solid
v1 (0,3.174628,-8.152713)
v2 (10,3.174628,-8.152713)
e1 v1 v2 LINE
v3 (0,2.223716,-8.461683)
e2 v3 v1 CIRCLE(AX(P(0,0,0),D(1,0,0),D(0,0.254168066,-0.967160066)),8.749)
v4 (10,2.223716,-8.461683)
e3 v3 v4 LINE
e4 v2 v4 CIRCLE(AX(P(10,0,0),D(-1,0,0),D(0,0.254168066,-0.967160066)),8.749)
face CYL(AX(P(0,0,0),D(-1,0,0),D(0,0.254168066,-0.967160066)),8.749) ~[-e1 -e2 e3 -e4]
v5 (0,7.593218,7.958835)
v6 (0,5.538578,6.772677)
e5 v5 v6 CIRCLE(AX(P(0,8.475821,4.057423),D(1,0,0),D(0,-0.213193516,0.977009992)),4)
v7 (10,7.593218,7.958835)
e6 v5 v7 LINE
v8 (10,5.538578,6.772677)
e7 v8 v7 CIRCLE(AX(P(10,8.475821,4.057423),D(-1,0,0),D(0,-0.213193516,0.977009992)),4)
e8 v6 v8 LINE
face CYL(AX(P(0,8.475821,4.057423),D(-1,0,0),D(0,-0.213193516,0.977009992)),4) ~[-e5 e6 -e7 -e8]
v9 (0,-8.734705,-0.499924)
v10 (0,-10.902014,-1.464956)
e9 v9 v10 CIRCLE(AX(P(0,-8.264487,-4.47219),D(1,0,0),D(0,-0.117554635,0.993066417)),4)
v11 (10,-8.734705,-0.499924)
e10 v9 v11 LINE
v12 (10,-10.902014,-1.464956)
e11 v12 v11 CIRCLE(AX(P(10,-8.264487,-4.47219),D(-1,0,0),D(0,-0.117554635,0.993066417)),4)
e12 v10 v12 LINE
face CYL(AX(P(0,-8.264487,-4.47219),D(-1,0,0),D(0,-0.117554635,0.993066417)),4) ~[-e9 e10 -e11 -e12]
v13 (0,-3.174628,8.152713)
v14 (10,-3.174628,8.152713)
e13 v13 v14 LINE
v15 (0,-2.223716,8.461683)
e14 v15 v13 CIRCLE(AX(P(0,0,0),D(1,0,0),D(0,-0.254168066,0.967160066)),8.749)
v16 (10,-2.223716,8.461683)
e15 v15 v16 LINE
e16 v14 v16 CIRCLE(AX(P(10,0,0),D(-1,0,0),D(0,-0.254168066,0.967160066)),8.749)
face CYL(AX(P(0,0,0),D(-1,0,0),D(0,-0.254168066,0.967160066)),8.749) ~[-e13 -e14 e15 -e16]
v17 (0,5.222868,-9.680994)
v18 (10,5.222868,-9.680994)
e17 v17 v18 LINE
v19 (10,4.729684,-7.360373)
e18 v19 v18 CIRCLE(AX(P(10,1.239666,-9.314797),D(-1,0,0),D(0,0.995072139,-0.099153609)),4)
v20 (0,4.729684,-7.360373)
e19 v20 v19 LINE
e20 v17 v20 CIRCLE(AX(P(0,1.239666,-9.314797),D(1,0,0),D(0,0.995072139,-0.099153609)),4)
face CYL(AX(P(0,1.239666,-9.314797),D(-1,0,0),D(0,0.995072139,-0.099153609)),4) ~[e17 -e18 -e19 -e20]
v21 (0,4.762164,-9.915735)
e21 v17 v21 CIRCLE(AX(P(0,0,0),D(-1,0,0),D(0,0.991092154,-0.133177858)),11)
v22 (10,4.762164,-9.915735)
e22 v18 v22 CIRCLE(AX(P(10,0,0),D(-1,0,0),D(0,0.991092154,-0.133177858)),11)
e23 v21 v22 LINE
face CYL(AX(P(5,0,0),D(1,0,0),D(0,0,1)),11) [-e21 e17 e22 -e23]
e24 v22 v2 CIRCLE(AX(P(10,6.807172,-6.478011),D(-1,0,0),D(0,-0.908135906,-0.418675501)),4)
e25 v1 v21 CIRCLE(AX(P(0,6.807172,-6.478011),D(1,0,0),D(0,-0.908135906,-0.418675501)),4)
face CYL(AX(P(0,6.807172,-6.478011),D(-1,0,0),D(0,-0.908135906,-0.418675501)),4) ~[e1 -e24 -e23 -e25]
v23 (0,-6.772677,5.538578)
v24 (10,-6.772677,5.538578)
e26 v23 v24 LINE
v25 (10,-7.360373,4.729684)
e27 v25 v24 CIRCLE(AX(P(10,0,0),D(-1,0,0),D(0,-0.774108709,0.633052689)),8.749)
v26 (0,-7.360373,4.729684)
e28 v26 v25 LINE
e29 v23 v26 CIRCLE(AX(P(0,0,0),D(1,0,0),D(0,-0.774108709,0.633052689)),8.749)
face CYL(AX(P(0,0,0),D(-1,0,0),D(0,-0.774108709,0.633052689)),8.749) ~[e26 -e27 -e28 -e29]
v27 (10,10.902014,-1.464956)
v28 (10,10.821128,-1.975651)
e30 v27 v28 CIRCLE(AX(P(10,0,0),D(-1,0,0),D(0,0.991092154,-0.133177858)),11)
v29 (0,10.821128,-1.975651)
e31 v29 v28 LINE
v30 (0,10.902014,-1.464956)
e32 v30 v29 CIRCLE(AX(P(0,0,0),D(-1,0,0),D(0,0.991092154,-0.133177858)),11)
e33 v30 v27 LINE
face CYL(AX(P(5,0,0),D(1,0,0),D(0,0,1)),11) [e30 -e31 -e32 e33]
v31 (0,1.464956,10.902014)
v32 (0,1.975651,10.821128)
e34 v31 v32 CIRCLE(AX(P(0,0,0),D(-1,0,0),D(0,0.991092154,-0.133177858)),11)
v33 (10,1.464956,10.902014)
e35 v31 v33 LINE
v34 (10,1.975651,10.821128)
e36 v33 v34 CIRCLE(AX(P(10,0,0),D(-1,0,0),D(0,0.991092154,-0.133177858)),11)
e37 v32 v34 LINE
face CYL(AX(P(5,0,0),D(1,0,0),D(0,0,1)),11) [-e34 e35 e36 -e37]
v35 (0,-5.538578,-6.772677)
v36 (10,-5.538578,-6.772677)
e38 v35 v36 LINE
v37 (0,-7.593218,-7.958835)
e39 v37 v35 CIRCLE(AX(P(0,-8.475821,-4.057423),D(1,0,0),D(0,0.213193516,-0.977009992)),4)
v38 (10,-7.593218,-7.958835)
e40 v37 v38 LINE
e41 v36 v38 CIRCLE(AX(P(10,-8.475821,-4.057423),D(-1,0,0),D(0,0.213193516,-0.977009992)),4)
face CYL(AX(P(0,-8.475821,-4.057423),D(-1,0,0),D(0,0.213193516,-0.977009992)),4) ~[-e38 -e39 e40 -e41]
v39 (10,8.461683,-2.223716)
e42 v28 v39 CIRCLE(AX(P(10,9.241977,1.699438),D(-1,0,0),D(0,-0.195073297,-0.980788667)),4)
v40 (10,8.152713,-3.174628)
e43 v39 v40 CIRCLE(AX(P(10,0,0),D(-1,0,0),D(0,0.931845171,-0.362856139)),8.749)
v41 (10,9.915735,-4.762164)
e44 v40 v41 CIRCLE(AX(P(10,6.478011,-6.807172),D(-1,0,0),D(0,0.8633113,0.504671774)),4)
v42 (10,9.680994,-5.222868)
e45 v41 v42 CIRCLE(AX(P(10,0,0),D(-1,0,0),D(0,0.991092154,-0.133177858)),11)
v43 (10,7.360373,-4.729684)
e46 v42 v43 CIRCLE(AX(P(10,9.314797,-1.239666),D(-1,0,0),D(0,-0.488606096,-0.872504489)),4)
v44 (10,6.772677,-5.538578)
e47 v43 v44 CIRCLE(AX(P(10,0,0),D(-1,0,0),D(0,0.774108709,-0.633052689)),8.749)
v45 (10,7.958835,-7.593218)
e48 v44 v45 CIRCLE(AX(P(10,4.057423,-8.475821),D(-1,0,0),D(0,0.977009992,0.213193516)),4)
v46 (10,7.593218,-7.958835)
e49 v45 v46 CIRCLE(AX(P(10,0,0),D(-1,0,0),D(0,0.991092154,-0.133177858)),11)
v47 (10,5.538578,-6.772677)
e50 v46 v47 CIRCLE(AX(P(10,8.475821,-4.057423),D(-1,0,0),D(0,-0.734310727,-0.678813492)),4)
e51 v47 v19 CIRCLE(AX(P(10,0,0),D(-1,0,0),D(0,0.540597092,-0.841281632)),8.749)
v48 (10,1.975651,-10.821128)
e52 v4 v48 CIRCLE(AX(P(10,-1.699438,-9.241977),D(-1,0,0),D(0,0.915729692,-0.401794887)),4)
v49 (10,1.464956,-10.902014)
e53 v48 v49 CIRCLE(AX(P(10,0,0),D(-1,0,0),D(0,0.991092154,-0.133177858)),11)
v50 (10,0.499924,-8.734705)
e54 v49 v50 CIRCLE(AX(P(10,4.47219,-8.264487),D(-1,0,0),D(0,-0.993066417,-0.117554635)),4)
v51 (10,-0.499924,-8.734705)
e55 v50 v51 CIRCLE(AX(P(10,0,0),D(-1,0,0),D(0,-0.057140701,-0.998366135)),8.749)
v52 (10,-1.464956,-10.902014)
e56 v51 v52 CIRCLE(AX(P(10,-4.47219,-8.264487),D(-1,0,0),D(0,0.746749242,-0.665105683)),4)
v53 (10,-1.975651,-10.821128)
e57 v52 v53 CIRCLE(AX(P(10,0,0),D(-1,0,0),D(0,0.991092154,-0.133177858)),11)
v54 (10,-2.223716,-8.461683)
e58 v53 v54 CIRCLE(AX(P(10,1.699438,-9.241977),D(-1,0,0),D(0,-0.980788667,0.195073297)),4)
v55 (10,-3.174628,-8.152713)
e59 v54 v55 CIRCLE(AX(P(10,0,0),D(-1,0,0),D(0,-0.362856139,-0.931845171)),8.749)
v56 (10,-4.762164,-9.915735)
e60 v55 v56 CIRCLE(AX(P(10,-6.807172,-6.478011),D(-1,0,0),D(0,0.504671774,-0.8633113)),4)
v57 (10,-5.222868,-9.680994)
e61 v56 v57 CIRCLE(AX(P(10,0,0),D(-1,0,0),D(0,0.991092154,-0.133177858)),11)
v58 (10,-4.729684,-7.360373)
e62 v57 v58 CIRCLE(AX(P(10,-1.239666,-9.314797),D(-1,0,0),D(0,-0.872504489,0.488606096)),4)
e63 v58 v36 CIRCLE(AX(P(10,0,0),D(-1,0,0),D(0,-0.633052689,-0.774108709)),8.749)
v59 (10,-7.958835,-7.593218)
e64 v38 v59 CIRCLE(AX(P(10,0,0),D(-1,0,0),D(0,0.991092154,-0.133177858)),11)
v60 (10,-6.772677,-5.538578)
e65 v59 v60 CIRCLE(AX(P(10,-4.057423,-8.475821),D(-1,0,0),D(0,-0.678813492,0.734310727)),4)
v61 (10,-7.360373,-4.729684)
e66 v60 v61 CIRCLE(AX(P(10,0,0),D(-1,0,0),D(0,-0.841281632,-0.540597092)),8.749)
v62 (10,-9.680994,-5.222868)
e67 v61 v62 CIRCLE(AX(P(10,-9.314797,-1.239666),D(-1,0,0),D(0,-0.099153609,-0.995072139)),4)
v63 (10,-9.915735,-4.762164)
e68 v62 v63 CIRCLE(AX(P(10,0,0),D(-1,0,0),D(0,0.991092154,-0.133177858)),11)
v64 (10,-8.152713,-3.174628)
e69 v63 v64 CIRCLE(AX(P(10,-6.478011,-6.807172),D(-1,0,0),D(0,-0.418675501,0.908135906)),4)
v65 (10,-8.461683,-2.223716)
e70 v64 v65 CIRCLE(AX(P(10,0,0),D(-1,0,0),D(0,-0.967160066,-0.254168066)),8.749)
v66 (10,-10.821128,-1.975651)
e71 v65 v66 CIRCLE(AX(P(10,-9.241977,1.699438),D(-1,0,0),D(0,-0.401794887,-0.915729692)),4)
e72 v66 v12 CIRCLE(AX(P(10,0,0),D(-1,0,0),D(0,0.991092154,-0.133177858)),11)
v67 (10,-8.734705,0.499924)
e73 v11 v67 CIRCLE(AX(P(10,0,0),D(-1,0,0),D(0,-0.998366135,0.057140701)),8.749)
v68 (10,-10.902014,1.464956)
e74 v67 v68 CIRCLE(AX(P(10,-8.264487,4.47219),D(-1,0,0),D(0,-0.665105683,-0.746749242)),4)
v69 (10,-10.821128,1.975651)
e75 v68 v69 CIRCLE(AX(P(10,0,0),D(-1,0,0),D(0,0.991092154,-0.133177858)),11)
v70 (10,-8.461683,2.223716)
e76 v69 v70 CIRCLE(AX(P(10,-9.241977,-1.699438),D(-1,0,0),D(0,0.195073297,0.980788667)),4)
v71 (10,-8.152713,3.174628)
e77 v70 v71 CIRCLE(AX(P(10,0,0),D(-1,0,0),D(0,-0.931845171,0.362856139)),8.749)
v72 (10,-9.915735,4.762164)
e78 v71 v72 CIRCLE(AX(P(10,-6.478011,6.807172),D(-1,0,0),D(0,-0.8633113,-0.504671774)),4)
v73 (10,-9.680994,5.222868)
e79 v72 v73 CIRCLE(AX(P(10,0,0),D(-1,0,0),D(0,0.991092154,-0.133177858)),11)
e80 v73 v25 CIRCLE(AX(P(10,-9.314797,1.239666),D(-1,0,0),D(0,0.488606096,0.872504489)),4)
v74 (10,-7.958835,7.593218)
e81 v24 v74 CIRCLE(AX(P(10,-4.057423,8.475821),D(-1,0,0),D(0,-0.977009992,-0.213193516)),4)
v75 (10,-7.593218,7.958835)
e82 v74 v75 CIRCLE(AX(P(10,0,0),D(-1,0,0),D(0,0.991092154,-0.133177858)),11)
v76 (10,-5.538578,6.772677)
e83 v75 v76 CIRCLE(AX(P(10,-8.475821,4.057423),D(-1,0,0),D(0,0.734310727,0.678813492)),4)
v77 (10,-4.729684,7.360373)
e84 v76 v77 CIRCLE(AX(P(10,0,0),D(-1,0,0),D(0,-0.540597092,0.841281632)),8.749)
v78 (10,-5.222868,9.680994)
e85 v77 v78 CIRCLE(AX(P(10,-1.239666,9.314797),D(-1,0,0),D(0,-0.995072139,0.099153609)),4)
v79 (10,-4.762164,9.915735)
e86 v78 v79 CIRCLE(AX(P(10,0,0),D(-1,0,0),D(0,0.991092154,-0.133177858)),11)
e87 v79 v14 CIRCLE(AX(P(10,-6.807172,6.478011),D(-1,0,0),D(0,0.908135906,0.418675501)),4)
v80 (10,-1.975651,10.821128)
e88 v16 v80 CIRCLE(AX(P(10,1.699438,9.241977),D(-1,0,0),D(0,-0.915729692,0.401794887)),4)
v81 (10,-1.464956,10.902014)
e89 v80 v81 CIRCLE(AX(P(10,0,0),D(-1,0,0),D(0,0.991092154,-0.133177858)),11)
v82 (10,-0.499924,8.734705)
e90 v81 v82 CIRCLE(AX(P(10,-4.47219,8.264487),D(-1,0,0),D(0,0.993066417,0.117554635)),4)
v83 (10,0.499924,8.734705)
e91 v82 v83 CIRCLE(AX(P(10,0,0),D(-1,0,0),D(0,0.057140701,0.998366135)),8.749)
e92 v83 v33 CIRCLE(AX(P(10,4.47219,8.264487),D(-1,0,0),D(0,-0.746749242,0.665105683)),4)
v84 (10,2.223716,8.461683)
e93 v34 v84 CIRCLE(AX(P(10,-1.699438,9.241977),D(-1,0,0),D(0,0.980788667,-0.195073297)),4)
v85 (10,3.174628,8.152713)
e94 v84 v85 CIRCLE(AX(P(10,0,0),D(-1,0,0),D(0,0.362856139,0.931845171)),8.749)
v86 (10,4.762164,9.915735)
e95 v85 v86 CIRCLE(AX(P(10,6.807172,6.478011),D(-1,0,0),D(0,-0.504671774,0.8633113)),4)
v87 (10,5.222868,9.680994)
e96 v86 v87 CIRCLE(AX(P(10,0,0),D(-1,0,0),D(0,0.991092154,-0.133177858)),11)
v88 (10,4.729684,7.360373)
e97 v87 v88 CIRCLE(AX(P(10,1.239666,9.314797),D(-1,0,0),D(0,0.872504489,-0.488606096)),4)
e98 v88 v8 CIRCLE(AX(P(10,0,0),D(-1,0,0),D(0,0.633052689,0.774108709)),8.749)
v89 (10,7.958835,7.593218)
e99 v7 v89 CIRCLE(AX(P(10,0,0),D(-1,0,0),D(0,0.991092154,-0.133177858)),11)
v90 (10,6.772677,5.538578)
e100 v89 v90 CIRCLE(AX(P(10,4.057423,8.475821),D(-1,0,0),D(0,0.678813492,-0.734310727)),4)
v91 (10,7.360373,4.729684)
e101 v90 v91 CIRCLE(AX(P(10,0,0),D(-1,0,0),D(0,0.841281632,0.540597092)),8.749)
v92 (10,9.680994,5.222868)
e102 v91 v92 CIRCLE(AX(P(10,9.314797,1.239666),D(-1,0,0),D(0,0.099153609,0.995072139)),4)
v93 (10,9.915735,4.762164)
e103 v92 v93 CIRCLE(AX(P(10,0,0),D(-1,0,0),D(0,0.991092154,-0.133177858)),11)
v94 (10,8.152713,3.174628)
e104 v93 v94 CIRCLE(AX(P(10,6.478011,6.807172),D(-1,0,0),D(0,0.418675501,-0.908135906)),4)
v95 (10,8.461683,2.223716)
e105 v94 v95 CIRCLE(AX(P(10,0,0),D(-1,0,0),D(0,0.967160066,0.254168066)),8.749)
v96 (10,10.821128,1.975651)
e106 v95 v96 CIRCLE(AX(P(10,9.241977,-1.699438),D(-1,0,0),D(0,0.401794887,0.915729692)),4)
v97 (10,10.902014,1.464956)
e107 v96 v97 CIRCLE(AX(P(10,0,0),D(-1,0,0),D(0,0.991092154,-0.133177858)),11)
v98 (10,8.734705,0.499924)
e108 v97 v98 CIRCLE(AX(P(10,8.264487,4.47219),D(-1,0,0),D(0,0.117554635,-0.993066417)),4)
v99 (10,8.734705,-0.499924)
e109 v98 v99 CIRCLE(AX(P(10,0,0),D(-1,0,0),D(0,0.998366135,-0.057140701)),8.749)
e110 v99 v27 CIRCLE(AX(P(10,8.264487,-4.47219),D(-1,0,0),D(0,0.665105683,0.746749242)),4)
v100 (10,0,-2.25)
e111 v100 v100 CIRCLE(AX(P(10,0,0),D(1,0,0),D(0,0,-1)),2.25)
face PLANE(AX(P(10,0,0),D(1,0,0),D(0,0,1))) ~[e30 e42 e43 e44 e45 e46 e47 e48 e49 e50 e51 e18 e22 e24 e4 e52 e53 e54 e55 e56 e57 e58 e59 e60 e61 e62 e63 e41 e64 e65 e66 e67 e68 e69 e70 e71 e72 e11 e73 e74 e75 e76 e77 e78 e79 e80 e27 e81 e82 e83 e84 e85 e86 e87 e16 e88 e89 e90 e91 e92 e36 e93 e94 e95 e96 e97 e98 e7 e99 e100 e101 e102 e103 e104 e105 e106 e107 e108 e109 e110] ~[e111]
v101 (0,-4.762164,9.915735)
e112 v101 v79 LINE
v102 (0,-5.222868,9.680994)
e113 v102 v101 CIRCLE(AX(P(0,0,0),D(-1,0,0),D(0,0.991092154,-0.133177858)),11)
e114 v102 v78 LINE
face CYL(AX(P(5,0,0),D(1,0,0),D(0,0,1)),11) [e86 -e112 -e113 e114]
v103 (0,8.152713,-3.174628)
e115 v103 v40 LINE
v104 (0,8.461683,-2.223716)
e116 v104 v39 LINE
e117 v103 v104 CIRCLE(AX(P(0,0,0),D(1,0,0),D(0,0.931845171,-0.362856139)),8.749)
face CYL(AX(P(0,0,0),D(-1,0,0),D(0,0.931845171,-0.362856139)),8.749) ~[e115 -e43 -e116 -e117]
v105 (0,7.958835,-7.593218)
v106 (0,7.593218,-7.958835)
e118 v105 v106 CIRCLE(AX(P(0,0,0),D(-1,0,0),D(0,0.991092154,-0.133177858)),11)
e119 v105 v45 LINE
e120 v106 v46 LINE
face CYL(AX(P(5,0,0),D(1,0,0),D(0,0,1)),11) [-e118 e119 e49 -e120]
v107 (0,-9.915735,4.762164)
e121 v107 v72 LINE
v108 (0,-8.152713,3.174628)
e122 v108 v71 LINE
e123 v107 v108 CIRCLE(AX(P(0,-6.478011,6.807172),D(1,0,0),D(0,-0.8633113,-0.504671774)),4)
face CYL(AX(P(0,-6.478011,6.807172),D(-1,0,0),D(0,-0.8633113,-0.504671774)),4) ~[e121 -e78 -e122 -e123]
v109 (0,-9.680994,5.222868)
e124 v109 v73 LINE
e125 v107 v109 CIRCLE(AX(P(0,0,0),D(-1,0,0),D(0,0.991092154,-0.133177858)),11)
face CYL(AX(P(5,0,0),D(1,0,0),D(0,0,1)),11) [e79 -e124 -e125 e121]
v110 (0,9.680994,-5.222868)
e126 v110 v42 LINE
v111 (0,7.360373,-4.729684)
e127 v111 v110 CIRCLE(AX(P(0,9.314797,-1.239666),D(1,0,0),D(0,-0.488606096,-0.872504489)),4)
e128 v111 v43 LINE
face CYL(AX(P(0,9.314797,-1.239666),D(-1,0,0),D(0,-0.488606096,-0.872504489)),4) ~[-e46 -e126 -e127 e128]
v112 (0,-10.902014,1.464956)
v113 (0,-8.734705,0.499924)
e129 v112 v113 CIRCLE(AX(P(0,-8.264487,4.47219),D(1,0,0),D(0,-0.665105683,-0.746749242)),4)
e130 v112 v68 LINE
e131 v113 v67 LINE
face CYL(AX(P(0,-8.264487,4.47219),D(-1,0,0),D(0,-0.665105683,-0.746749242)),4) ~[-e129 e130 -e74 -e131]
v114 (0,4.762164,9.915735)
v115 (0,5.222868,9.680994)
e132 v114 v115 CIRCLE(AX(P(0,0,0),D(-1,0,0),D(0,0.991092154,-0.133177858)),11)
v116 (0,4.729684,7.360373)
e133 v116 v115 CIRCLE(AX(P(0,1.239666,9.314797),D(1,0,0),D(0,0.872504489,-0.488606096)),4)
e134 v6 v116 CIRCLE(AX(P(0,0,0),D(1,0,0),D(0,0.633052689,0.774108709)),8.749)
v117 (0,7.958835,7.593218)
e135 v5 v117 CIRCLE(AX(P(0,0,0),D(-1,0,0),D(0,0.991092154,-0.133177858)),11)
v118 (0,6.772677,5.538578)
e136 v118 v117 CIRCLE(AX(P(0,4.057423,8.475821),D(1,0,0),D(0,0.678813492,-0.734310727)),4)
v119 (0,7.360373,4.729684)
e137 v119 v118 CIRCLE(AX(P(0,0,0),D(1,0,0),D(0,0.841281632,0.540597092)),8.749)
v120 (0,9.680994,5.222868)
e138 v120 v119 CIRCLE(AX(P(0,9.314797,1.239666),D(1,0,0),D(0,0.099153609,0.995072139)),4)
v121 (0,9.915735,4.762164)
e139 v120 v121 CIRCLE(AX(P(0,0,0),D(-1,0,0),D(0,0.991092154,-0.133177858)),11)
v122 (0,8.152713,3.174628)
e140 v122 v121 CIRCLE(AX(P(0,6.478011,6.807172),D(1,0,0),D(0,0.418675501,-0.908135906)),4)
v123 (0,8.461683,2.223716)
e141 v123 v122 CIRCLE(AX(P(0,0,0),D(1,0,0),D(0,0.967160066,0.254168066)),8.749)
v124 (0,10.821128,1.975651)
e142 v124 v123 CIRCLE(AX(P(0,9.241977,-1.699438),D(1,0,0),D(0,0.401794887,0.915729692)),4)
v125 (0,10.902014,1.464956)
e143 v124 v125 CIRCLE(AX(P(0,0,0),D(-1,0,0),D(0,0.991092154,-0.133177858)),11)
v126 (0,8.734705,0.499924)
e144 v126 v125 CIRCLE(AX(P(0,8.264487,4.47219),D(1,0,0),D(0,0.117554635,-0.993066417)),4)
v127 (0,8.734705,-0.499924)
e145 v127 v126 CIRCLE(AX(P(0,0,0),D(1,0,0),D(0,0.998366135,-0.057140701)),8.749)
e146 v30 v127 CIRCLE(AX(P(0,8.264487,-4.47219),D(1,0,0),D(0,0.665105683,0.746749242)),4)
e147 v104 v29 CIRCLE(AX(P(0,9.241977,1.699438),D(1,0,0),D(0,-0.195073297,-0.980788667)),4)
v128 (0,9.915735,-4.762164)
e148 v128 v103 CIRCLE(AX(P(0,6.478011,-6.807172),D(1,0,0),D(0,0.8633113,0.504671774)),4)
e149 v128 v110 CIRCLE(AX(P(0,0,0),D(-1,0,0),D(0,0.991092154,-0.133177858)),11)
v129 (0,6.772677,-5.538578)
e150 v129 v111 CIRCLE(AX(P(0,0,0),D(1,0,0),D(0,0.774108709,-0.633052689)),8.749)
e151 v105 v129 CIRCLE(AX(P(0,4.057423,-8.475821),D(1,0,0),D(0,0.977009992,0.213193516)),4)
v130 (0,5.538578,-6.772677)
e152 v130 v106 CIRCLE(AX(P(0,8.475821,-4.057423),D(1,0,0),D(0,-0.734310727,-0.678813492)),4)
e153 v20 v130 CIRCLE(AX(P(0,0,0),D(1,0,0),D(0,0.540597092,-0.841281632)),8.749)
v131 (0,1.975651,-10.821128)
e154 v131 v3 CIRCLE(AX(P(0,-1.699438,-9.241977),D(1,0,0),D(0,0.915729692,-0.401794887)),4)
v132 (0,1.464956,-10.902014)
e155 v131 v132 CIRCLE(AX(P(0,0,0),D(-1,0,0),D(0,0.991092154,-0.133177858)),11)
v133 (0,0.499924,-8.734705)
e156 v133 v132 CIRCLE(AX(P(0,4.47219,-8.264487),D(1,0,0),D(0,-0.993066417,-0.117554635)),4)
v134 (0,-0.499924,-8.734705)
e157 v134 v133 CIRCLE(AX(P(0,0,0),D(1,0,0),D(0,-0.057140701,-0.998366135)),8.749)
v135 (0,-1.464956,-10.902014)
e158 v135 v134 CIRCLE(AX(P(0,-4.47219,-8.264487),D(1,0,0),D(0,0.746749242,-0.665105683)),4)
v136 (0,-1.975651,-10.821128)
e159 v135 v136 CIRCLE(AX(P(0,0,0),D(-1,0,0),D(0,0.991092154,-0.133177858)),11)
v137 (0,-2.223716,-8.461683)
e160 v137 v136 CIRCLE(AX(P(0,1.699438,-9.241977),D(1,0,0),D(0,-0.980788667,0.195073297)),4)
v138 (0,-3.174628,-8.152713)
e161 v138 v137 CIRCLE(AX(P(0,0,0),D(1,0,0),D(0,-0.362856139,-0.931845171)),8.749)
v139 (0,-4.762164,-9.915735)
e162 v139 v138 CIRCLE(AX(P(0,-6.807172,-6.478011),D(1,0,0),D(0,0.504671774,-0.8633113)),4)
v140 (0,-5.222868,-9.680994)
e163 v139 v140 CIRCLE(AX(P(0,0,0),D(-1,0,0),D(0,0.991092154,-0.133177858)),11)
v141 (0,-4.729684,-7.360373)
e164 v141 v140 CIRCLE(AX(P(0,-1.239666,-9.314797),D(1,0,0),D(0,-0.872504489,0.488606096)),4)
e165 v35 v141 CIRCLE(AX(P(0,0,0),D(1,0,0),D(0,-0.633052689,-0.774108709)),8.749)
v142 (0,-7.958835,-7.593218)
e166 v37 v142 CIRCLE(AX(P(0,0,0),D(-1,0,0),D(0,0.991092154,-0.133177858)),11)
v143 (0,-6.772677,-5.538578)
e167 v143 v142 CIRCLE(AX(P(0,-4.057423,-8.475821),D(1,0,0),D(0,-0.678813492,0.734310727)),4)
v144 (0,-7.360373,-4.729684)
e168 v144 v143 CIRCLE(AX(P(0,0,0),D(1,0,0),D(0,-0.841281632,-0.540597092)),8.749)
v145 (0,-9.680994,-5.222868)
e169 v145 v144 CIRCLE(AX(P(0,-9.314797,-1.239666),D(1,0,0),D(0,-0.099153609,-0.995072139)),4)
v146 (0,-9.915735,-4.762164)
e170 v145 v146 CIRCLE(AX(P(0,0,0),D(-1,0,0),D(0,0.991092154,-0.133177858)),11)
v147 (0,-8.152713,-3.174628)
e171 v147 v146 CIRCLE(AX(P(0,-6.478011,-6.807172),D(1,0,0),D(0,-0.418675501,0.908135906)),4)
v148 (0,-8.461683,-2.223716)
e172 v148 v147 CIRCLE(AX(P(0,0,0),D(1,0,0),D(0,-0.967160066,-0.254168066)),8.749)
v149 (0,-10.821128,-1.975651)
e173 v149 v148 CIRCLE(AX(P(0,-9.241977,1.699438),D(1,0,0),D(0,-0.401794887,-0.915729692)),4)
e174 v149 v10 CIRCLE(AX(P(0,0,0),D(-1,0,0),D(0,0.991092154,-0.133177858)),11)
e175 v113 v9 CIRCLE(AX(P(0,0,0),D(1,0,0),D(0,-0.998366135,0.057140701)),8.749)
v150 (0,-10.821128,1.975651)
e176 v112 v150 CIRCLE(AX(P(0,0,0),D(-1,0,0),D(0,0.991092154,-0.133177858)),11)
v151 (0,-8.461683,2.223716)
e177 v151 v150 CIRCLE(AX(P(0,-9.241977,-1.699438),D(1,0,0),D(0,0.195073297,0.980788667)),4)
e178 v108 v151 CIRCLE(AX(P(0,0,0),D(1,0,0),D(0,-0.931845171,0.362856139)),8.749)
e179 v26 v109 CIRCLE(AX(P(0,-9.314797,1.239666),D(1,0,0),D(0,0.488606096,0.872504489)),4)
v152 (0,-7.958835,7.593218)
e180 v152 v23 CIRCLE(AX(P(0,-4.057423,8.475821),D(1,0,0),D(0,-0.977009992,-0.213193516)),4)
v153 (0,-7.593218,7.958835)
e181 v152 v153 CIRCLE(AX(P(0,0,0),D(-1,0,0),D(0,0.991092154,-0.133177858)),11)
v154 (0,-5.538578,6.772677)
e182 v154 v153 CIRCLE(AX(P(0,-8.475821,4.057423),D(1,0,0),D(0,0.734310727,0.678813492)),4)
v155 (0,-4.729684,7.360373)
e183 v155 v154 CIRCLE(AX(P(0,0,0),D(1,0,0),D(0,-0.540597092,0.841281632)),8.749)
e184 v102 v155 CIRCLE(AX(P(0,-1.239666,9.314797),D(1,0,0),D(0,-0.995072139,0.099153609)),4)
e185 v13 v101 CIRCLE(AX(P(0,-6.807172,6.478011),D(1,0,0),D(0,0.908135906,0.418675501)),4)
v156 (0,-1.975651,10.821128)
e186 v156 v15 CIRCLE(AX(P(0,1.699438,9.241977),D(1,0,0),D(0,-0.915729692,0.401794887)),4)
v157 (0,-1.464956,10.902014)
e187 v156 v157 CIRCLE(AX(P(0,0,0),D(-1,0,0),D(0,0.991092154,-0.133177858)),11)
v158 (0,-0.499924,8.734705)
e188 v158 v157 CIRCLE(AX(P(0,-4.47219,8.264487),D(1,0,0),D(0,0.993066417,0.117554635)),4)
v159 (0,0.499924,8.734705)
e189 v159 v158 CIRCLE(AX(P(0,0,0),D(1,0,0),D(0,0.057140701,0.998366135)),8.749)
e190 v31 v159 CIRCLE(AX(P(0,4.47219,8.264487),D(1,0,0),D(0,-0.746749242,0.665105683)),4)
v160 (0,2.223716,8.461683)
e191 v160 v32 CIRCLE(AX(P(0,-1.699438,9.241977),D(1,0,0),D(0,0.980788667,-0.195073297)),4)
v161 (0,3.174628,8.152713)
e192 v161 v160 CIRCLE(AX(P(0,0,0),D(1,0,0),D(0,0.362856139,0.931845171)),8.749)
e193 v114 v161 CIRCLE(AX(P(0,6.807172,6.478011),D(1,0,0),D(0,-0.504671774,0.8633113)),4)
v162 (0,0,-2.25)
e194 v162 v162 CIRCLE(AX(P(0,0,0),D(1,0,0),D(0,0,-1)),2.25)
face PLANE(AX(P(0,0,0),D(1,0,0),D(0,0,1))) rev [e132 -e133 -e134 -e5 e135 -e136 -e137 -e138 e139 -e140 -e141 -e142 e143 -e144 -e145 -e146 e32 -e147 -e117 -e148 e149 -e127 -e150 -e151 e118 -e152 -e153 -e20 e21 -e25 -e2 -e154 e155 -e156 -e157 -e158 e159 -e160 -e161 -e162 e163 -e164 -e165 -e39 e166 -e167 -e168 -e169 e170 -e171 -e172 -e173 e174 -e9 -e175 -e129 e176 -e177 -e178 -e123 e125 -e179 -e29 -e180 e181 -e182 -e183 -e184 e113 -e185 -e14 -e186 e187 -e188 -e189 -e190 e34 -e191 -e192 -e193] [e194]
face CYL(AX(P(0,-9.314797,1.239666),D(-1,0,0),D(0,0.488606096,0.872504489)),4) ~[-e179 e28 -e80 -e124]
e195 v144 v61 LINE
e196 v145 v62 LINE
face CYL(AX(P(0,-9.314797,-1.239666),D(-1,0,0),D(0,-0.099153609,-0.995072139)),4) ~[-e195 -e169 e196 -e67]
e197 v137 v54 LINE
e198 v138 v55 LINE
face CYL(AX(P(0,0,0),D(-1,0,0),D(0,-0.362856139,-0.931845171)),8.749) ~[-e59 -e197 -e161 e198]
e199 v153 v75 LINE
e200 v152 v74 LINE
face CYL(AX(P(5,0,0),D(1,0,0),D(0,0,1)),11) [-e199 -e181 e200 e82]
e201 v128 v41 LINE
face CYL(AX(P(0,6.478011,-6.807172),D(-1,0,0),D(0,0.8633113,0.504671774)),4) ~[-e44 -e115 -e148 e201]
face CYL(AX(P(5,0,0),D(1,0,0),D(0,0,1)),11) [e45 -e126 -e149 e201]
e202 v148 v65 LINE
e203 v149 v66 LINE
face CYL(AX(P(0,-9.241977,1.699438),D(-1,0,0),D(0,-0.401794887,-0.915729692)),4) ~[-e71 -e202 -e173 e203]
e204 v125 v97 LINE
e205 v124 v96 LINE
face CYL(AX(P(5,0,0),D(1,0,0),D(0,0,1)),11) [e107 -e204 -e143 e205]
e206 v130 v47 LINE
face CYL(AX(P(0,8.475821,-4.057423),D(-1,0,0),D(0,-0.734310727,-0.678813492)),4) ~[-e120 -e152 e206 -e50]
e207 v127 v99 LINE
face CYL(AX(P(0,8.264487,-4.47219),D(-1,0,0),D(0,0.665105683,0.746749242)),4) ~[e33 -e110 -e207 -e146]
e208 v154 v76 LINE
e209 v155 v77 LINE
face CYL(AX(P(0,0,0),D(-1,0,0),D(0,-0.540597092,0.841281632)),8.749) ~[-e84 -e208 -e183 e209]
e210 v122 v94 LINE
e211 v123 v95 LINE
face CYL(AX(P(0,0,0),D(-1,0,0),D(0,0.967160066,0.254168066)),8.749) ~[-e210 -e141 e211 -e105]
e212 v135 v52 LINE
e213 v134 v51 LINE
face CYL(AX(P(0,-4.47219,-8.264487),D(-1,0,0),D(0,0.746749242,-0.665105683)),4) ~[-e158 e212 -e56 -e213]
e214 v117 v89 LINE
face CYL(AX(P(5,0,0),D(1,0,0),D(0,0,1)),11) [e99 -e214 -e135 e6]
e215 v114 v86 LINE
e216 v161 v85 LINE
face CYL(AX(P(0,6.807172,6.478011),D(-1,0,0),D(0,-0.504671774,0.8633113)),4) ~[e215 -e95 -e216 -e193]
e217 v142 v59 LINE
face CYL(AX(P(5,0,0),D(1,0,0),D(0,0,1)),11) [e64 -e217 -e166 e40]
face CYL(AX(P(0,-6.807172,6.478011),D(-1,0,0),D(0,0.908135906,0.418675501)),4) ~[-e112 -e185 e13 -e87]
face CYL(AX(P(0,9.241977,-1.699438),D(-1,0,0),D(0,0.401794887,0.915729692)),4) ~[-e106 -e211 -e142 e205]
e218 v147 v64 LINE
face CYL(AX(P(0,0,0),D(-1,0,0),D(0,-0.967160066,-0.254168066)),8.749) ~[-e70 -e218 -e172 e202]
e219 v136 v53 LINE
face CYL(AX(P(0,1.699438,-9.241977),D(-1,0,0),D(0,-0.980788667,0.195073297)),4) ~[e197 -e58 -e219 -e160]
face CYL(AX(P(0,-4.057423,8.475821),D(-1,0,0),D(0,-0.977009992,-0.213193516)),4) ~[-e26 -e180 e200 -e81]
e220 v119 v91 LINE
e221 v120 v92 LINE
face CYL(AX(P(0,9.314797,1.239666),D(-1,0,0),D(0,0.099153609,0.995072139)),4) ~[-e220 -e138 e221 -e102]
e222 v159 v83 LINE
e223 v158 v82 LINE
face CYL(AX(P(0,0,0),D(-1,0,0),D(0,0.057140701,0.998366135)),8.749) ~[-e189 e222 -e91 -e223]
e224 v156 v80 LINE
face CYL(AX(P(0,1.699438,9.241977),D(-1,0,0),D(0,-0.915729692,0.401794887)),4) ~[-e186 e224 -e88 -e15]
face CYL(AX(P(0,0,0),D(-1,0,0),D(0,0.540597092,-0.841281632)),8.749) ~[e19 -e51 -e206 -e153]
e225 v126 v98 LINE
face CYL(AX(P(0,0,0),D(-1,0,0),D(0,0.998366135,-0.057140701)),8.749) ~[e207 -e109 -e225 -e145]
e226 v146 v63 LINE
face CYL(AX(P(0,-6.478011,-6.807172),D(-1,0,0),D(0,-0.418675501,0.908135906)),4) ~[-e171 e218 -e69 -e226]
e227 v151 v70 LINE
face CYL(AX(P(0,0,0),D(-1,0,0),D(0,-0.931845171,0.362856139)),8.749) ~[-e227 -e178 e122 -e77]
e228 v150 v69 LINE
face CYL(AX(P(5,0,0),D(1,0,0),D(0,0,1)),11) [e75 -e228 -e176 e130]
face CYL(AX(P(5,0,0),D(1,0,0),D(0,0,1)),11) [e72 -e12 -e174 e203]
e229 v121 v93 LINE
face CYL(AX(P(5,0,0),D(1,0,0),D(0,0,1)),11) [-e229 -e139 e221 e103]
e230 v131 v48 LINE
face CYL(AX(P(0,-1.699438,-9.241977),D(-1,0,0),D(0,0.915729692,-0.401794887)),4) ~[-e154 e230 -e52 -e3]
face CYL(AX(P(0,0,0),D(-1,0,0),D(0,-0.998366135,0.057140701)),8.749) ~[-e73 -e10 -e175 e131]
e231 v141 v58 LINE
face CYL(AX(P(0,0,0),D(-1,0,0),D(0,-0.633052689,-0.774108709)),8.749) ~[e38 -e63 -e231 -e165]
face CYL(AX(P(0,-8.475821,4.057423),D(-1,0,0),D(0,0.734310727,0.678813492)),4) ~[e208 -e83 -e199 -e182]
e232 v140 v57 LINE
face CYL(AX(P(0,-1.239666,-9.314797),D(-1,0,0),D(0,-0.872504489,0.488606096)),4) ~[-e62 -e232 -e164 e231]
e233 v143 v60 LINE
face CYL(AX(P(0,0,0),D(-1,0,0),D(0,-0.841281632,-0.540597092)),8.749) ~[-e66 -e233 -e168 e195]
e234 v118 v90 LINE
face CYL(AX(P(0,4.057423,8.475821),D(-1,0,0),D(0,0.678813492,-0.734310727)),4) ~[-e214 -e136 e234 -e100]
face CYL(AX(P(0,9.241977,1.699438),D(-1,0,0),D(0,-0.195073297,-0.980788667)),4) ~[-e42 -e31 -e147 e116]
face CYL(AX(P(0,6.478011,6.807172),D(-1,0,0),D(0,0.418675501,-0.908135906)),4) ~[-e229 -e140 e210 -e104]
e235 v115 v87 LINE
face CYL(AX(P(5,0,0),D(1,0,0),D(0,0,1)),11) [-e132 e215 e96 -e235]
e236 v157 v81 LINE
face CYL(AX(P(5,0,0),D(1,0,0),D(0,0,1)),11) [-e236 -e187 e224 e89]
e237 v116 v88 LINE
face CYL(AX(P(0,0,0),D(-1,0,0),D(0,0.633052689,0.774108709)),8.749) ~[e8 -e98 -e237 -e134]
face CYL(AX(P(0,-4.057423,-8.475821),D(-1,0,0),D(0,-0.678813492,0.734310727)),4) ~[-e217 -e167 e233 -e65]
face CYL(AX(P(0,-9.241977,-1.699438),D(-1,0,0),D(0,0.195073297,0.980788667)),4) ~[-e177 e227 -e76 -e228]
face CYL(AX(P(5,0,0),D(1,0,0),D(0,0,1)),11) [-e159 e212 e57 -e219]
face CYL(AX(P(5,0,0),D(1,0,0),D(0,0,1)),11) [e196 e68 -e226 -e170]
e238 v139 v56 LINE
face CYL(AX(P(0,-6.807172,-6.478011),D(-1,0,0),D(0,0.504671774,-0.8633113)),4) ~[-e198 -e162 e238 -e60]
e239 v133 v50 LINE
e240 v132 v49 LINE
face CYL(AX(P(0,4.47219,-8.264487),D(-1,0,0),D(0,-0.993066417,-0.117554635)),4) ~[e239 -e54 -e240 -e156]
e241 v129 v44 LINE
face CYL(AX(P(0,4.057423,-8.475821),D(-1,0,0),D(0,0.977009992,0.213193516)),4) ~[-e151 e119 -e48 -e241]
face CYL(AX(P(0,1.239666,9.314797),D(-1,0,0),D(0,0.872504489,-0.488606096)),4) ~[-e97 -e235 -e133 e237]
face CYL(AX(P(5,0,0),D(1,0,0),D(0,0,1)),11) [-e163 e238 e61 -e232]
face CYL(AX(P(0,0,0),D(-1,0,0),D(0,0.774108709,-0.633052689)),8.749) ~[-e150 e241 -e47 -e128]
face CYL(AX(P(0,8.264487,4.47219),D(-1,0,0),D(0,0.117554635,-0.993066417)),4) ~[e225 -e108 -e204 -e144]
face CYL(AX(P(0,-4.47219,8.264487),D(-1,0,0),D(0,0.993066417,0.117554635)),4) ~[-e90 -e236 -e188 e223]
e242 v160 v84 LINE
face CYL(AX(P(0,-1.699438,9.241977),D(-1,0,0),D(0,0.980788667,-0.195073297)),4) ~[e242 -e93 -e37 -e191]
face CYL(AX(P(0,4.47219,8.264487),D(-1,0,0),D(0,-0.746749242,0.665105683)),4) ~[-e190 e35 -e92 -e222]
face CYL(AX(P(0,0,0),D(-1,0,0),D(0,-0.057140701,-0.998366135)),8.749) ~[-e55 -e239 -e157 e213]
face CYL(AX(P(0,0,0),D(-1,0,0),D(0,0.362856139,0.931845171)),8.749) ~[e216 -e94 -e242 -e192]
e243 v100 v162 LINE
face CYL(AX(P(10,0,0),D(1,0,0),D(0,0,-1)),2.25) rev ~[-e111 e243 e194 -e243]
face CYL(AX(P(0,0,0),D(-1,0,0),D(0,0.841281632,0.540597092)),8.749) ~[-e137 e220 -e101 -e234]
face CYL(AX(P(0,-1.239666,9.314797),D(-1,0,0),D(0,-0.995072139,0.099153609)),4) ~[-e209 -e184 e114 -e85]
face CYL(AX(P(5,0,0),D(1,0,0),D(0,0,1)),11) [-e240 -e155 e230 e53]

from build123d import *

# Parameters (mm, degrees)
BASPROSKE_W        = 10
BASPROSKE_H        = 11
TOOTHCUT_DEPTH     = 19.493242009
TEETHCUTS_COUNT    = 20
TEETHCUTS_ANGLE    = 342
BORSKE_R           = 2
BORE_DEPTH         = 50.0000508
SKETCH1_R          = 2.25
CUT_EXTRUDE1_DEPTH = 19.376827944


with BuildPart() as part:
    # BasProSke → Base-Revolve (revolve)
    with BuildSketch(Plane(origin=(0, 0, 0), x_dir=(1, 0, 0), z_dir=(0, 1, 0)), mode=Mode.PRIVATE) as base_revolve_sk:
        with Locations((5, 5.5)):
            Rectangle(BASPROSKE_W, BASPROSKE_H)
    revolve(base_revolve_sk.sketch.rotate(Axis((-10, 0, 0), (1, 0, 0)), 180), axis=Axis((-10, 0, 0), (1, 0, 0)))

    # TooCutSke → ToothCut (cut, through all)
    with BuildSketch(Plane(origin=(0, 0, 0), x_dir=(0, 0, -1), z_dir=(1, 0, 0))):
        with BuildLine():
            ThreePointArc((0.499924007, 8.734705318), (0, 8.749), (-0.499924007, 8.734705318))
            ThreePointArc((-0.499924007, 8.734705318), (-0.824302243, 9.905497836), (-1.485192705, 10.924909509))
            ThreePointArc((-1.485192705, 10.924909509), (0, 11.0254), (1.485192705, 10.924909509))
            ThreePointArc((1.485192705, 10.924909509), (0.824302243, 9.905497836), (0.499924007, 8.734705318))
        make_face()
    toothcut = extrude(amount=TOOTHCUT_DEPTH, mode=Mode.SUBTRACT)

    # TeethCuts: ToothCut ×20 about axis
    teethcuts_axis = Axis((-10, 0, 0), (1, 0, 0))
    for i in range(1, TEETHCUTS_COUNT):
        add(toothcut.rotate(teethcuts_axis, i * TEETHCUTS_ANGLE / (TEETHCUTS_COUNT - 1)), mode=Mode.SUBTRACT)

    # BorSke → Bore (cut, symmetric)
    with BuildSketch(Plane(origin=(0, 0, 0), x_dir=(0, 0, -1), z_dir=(1, 0, 0))):
        with Locations(Location((0, 0, 0), (0, 0, 180))):
            Circle(BORSKE_R)
    extrude(amount=BORE_DEPTH, both=True, mode=Mode.SUBTRACT)

    # Sketch1 → Cut-Extrude1 (cut, through all)
    with BuildSketch(Plane(origin=(10, 0, 0), x_dir=(0, 0, -1), z_dir=(1, 0, 0))):
        Circle(SKETCH1_R)
    extrude(amount=-CUT_EXTRUDE1_DEPTH, mode=Mode.SUBTRACT)


solid = part.part
